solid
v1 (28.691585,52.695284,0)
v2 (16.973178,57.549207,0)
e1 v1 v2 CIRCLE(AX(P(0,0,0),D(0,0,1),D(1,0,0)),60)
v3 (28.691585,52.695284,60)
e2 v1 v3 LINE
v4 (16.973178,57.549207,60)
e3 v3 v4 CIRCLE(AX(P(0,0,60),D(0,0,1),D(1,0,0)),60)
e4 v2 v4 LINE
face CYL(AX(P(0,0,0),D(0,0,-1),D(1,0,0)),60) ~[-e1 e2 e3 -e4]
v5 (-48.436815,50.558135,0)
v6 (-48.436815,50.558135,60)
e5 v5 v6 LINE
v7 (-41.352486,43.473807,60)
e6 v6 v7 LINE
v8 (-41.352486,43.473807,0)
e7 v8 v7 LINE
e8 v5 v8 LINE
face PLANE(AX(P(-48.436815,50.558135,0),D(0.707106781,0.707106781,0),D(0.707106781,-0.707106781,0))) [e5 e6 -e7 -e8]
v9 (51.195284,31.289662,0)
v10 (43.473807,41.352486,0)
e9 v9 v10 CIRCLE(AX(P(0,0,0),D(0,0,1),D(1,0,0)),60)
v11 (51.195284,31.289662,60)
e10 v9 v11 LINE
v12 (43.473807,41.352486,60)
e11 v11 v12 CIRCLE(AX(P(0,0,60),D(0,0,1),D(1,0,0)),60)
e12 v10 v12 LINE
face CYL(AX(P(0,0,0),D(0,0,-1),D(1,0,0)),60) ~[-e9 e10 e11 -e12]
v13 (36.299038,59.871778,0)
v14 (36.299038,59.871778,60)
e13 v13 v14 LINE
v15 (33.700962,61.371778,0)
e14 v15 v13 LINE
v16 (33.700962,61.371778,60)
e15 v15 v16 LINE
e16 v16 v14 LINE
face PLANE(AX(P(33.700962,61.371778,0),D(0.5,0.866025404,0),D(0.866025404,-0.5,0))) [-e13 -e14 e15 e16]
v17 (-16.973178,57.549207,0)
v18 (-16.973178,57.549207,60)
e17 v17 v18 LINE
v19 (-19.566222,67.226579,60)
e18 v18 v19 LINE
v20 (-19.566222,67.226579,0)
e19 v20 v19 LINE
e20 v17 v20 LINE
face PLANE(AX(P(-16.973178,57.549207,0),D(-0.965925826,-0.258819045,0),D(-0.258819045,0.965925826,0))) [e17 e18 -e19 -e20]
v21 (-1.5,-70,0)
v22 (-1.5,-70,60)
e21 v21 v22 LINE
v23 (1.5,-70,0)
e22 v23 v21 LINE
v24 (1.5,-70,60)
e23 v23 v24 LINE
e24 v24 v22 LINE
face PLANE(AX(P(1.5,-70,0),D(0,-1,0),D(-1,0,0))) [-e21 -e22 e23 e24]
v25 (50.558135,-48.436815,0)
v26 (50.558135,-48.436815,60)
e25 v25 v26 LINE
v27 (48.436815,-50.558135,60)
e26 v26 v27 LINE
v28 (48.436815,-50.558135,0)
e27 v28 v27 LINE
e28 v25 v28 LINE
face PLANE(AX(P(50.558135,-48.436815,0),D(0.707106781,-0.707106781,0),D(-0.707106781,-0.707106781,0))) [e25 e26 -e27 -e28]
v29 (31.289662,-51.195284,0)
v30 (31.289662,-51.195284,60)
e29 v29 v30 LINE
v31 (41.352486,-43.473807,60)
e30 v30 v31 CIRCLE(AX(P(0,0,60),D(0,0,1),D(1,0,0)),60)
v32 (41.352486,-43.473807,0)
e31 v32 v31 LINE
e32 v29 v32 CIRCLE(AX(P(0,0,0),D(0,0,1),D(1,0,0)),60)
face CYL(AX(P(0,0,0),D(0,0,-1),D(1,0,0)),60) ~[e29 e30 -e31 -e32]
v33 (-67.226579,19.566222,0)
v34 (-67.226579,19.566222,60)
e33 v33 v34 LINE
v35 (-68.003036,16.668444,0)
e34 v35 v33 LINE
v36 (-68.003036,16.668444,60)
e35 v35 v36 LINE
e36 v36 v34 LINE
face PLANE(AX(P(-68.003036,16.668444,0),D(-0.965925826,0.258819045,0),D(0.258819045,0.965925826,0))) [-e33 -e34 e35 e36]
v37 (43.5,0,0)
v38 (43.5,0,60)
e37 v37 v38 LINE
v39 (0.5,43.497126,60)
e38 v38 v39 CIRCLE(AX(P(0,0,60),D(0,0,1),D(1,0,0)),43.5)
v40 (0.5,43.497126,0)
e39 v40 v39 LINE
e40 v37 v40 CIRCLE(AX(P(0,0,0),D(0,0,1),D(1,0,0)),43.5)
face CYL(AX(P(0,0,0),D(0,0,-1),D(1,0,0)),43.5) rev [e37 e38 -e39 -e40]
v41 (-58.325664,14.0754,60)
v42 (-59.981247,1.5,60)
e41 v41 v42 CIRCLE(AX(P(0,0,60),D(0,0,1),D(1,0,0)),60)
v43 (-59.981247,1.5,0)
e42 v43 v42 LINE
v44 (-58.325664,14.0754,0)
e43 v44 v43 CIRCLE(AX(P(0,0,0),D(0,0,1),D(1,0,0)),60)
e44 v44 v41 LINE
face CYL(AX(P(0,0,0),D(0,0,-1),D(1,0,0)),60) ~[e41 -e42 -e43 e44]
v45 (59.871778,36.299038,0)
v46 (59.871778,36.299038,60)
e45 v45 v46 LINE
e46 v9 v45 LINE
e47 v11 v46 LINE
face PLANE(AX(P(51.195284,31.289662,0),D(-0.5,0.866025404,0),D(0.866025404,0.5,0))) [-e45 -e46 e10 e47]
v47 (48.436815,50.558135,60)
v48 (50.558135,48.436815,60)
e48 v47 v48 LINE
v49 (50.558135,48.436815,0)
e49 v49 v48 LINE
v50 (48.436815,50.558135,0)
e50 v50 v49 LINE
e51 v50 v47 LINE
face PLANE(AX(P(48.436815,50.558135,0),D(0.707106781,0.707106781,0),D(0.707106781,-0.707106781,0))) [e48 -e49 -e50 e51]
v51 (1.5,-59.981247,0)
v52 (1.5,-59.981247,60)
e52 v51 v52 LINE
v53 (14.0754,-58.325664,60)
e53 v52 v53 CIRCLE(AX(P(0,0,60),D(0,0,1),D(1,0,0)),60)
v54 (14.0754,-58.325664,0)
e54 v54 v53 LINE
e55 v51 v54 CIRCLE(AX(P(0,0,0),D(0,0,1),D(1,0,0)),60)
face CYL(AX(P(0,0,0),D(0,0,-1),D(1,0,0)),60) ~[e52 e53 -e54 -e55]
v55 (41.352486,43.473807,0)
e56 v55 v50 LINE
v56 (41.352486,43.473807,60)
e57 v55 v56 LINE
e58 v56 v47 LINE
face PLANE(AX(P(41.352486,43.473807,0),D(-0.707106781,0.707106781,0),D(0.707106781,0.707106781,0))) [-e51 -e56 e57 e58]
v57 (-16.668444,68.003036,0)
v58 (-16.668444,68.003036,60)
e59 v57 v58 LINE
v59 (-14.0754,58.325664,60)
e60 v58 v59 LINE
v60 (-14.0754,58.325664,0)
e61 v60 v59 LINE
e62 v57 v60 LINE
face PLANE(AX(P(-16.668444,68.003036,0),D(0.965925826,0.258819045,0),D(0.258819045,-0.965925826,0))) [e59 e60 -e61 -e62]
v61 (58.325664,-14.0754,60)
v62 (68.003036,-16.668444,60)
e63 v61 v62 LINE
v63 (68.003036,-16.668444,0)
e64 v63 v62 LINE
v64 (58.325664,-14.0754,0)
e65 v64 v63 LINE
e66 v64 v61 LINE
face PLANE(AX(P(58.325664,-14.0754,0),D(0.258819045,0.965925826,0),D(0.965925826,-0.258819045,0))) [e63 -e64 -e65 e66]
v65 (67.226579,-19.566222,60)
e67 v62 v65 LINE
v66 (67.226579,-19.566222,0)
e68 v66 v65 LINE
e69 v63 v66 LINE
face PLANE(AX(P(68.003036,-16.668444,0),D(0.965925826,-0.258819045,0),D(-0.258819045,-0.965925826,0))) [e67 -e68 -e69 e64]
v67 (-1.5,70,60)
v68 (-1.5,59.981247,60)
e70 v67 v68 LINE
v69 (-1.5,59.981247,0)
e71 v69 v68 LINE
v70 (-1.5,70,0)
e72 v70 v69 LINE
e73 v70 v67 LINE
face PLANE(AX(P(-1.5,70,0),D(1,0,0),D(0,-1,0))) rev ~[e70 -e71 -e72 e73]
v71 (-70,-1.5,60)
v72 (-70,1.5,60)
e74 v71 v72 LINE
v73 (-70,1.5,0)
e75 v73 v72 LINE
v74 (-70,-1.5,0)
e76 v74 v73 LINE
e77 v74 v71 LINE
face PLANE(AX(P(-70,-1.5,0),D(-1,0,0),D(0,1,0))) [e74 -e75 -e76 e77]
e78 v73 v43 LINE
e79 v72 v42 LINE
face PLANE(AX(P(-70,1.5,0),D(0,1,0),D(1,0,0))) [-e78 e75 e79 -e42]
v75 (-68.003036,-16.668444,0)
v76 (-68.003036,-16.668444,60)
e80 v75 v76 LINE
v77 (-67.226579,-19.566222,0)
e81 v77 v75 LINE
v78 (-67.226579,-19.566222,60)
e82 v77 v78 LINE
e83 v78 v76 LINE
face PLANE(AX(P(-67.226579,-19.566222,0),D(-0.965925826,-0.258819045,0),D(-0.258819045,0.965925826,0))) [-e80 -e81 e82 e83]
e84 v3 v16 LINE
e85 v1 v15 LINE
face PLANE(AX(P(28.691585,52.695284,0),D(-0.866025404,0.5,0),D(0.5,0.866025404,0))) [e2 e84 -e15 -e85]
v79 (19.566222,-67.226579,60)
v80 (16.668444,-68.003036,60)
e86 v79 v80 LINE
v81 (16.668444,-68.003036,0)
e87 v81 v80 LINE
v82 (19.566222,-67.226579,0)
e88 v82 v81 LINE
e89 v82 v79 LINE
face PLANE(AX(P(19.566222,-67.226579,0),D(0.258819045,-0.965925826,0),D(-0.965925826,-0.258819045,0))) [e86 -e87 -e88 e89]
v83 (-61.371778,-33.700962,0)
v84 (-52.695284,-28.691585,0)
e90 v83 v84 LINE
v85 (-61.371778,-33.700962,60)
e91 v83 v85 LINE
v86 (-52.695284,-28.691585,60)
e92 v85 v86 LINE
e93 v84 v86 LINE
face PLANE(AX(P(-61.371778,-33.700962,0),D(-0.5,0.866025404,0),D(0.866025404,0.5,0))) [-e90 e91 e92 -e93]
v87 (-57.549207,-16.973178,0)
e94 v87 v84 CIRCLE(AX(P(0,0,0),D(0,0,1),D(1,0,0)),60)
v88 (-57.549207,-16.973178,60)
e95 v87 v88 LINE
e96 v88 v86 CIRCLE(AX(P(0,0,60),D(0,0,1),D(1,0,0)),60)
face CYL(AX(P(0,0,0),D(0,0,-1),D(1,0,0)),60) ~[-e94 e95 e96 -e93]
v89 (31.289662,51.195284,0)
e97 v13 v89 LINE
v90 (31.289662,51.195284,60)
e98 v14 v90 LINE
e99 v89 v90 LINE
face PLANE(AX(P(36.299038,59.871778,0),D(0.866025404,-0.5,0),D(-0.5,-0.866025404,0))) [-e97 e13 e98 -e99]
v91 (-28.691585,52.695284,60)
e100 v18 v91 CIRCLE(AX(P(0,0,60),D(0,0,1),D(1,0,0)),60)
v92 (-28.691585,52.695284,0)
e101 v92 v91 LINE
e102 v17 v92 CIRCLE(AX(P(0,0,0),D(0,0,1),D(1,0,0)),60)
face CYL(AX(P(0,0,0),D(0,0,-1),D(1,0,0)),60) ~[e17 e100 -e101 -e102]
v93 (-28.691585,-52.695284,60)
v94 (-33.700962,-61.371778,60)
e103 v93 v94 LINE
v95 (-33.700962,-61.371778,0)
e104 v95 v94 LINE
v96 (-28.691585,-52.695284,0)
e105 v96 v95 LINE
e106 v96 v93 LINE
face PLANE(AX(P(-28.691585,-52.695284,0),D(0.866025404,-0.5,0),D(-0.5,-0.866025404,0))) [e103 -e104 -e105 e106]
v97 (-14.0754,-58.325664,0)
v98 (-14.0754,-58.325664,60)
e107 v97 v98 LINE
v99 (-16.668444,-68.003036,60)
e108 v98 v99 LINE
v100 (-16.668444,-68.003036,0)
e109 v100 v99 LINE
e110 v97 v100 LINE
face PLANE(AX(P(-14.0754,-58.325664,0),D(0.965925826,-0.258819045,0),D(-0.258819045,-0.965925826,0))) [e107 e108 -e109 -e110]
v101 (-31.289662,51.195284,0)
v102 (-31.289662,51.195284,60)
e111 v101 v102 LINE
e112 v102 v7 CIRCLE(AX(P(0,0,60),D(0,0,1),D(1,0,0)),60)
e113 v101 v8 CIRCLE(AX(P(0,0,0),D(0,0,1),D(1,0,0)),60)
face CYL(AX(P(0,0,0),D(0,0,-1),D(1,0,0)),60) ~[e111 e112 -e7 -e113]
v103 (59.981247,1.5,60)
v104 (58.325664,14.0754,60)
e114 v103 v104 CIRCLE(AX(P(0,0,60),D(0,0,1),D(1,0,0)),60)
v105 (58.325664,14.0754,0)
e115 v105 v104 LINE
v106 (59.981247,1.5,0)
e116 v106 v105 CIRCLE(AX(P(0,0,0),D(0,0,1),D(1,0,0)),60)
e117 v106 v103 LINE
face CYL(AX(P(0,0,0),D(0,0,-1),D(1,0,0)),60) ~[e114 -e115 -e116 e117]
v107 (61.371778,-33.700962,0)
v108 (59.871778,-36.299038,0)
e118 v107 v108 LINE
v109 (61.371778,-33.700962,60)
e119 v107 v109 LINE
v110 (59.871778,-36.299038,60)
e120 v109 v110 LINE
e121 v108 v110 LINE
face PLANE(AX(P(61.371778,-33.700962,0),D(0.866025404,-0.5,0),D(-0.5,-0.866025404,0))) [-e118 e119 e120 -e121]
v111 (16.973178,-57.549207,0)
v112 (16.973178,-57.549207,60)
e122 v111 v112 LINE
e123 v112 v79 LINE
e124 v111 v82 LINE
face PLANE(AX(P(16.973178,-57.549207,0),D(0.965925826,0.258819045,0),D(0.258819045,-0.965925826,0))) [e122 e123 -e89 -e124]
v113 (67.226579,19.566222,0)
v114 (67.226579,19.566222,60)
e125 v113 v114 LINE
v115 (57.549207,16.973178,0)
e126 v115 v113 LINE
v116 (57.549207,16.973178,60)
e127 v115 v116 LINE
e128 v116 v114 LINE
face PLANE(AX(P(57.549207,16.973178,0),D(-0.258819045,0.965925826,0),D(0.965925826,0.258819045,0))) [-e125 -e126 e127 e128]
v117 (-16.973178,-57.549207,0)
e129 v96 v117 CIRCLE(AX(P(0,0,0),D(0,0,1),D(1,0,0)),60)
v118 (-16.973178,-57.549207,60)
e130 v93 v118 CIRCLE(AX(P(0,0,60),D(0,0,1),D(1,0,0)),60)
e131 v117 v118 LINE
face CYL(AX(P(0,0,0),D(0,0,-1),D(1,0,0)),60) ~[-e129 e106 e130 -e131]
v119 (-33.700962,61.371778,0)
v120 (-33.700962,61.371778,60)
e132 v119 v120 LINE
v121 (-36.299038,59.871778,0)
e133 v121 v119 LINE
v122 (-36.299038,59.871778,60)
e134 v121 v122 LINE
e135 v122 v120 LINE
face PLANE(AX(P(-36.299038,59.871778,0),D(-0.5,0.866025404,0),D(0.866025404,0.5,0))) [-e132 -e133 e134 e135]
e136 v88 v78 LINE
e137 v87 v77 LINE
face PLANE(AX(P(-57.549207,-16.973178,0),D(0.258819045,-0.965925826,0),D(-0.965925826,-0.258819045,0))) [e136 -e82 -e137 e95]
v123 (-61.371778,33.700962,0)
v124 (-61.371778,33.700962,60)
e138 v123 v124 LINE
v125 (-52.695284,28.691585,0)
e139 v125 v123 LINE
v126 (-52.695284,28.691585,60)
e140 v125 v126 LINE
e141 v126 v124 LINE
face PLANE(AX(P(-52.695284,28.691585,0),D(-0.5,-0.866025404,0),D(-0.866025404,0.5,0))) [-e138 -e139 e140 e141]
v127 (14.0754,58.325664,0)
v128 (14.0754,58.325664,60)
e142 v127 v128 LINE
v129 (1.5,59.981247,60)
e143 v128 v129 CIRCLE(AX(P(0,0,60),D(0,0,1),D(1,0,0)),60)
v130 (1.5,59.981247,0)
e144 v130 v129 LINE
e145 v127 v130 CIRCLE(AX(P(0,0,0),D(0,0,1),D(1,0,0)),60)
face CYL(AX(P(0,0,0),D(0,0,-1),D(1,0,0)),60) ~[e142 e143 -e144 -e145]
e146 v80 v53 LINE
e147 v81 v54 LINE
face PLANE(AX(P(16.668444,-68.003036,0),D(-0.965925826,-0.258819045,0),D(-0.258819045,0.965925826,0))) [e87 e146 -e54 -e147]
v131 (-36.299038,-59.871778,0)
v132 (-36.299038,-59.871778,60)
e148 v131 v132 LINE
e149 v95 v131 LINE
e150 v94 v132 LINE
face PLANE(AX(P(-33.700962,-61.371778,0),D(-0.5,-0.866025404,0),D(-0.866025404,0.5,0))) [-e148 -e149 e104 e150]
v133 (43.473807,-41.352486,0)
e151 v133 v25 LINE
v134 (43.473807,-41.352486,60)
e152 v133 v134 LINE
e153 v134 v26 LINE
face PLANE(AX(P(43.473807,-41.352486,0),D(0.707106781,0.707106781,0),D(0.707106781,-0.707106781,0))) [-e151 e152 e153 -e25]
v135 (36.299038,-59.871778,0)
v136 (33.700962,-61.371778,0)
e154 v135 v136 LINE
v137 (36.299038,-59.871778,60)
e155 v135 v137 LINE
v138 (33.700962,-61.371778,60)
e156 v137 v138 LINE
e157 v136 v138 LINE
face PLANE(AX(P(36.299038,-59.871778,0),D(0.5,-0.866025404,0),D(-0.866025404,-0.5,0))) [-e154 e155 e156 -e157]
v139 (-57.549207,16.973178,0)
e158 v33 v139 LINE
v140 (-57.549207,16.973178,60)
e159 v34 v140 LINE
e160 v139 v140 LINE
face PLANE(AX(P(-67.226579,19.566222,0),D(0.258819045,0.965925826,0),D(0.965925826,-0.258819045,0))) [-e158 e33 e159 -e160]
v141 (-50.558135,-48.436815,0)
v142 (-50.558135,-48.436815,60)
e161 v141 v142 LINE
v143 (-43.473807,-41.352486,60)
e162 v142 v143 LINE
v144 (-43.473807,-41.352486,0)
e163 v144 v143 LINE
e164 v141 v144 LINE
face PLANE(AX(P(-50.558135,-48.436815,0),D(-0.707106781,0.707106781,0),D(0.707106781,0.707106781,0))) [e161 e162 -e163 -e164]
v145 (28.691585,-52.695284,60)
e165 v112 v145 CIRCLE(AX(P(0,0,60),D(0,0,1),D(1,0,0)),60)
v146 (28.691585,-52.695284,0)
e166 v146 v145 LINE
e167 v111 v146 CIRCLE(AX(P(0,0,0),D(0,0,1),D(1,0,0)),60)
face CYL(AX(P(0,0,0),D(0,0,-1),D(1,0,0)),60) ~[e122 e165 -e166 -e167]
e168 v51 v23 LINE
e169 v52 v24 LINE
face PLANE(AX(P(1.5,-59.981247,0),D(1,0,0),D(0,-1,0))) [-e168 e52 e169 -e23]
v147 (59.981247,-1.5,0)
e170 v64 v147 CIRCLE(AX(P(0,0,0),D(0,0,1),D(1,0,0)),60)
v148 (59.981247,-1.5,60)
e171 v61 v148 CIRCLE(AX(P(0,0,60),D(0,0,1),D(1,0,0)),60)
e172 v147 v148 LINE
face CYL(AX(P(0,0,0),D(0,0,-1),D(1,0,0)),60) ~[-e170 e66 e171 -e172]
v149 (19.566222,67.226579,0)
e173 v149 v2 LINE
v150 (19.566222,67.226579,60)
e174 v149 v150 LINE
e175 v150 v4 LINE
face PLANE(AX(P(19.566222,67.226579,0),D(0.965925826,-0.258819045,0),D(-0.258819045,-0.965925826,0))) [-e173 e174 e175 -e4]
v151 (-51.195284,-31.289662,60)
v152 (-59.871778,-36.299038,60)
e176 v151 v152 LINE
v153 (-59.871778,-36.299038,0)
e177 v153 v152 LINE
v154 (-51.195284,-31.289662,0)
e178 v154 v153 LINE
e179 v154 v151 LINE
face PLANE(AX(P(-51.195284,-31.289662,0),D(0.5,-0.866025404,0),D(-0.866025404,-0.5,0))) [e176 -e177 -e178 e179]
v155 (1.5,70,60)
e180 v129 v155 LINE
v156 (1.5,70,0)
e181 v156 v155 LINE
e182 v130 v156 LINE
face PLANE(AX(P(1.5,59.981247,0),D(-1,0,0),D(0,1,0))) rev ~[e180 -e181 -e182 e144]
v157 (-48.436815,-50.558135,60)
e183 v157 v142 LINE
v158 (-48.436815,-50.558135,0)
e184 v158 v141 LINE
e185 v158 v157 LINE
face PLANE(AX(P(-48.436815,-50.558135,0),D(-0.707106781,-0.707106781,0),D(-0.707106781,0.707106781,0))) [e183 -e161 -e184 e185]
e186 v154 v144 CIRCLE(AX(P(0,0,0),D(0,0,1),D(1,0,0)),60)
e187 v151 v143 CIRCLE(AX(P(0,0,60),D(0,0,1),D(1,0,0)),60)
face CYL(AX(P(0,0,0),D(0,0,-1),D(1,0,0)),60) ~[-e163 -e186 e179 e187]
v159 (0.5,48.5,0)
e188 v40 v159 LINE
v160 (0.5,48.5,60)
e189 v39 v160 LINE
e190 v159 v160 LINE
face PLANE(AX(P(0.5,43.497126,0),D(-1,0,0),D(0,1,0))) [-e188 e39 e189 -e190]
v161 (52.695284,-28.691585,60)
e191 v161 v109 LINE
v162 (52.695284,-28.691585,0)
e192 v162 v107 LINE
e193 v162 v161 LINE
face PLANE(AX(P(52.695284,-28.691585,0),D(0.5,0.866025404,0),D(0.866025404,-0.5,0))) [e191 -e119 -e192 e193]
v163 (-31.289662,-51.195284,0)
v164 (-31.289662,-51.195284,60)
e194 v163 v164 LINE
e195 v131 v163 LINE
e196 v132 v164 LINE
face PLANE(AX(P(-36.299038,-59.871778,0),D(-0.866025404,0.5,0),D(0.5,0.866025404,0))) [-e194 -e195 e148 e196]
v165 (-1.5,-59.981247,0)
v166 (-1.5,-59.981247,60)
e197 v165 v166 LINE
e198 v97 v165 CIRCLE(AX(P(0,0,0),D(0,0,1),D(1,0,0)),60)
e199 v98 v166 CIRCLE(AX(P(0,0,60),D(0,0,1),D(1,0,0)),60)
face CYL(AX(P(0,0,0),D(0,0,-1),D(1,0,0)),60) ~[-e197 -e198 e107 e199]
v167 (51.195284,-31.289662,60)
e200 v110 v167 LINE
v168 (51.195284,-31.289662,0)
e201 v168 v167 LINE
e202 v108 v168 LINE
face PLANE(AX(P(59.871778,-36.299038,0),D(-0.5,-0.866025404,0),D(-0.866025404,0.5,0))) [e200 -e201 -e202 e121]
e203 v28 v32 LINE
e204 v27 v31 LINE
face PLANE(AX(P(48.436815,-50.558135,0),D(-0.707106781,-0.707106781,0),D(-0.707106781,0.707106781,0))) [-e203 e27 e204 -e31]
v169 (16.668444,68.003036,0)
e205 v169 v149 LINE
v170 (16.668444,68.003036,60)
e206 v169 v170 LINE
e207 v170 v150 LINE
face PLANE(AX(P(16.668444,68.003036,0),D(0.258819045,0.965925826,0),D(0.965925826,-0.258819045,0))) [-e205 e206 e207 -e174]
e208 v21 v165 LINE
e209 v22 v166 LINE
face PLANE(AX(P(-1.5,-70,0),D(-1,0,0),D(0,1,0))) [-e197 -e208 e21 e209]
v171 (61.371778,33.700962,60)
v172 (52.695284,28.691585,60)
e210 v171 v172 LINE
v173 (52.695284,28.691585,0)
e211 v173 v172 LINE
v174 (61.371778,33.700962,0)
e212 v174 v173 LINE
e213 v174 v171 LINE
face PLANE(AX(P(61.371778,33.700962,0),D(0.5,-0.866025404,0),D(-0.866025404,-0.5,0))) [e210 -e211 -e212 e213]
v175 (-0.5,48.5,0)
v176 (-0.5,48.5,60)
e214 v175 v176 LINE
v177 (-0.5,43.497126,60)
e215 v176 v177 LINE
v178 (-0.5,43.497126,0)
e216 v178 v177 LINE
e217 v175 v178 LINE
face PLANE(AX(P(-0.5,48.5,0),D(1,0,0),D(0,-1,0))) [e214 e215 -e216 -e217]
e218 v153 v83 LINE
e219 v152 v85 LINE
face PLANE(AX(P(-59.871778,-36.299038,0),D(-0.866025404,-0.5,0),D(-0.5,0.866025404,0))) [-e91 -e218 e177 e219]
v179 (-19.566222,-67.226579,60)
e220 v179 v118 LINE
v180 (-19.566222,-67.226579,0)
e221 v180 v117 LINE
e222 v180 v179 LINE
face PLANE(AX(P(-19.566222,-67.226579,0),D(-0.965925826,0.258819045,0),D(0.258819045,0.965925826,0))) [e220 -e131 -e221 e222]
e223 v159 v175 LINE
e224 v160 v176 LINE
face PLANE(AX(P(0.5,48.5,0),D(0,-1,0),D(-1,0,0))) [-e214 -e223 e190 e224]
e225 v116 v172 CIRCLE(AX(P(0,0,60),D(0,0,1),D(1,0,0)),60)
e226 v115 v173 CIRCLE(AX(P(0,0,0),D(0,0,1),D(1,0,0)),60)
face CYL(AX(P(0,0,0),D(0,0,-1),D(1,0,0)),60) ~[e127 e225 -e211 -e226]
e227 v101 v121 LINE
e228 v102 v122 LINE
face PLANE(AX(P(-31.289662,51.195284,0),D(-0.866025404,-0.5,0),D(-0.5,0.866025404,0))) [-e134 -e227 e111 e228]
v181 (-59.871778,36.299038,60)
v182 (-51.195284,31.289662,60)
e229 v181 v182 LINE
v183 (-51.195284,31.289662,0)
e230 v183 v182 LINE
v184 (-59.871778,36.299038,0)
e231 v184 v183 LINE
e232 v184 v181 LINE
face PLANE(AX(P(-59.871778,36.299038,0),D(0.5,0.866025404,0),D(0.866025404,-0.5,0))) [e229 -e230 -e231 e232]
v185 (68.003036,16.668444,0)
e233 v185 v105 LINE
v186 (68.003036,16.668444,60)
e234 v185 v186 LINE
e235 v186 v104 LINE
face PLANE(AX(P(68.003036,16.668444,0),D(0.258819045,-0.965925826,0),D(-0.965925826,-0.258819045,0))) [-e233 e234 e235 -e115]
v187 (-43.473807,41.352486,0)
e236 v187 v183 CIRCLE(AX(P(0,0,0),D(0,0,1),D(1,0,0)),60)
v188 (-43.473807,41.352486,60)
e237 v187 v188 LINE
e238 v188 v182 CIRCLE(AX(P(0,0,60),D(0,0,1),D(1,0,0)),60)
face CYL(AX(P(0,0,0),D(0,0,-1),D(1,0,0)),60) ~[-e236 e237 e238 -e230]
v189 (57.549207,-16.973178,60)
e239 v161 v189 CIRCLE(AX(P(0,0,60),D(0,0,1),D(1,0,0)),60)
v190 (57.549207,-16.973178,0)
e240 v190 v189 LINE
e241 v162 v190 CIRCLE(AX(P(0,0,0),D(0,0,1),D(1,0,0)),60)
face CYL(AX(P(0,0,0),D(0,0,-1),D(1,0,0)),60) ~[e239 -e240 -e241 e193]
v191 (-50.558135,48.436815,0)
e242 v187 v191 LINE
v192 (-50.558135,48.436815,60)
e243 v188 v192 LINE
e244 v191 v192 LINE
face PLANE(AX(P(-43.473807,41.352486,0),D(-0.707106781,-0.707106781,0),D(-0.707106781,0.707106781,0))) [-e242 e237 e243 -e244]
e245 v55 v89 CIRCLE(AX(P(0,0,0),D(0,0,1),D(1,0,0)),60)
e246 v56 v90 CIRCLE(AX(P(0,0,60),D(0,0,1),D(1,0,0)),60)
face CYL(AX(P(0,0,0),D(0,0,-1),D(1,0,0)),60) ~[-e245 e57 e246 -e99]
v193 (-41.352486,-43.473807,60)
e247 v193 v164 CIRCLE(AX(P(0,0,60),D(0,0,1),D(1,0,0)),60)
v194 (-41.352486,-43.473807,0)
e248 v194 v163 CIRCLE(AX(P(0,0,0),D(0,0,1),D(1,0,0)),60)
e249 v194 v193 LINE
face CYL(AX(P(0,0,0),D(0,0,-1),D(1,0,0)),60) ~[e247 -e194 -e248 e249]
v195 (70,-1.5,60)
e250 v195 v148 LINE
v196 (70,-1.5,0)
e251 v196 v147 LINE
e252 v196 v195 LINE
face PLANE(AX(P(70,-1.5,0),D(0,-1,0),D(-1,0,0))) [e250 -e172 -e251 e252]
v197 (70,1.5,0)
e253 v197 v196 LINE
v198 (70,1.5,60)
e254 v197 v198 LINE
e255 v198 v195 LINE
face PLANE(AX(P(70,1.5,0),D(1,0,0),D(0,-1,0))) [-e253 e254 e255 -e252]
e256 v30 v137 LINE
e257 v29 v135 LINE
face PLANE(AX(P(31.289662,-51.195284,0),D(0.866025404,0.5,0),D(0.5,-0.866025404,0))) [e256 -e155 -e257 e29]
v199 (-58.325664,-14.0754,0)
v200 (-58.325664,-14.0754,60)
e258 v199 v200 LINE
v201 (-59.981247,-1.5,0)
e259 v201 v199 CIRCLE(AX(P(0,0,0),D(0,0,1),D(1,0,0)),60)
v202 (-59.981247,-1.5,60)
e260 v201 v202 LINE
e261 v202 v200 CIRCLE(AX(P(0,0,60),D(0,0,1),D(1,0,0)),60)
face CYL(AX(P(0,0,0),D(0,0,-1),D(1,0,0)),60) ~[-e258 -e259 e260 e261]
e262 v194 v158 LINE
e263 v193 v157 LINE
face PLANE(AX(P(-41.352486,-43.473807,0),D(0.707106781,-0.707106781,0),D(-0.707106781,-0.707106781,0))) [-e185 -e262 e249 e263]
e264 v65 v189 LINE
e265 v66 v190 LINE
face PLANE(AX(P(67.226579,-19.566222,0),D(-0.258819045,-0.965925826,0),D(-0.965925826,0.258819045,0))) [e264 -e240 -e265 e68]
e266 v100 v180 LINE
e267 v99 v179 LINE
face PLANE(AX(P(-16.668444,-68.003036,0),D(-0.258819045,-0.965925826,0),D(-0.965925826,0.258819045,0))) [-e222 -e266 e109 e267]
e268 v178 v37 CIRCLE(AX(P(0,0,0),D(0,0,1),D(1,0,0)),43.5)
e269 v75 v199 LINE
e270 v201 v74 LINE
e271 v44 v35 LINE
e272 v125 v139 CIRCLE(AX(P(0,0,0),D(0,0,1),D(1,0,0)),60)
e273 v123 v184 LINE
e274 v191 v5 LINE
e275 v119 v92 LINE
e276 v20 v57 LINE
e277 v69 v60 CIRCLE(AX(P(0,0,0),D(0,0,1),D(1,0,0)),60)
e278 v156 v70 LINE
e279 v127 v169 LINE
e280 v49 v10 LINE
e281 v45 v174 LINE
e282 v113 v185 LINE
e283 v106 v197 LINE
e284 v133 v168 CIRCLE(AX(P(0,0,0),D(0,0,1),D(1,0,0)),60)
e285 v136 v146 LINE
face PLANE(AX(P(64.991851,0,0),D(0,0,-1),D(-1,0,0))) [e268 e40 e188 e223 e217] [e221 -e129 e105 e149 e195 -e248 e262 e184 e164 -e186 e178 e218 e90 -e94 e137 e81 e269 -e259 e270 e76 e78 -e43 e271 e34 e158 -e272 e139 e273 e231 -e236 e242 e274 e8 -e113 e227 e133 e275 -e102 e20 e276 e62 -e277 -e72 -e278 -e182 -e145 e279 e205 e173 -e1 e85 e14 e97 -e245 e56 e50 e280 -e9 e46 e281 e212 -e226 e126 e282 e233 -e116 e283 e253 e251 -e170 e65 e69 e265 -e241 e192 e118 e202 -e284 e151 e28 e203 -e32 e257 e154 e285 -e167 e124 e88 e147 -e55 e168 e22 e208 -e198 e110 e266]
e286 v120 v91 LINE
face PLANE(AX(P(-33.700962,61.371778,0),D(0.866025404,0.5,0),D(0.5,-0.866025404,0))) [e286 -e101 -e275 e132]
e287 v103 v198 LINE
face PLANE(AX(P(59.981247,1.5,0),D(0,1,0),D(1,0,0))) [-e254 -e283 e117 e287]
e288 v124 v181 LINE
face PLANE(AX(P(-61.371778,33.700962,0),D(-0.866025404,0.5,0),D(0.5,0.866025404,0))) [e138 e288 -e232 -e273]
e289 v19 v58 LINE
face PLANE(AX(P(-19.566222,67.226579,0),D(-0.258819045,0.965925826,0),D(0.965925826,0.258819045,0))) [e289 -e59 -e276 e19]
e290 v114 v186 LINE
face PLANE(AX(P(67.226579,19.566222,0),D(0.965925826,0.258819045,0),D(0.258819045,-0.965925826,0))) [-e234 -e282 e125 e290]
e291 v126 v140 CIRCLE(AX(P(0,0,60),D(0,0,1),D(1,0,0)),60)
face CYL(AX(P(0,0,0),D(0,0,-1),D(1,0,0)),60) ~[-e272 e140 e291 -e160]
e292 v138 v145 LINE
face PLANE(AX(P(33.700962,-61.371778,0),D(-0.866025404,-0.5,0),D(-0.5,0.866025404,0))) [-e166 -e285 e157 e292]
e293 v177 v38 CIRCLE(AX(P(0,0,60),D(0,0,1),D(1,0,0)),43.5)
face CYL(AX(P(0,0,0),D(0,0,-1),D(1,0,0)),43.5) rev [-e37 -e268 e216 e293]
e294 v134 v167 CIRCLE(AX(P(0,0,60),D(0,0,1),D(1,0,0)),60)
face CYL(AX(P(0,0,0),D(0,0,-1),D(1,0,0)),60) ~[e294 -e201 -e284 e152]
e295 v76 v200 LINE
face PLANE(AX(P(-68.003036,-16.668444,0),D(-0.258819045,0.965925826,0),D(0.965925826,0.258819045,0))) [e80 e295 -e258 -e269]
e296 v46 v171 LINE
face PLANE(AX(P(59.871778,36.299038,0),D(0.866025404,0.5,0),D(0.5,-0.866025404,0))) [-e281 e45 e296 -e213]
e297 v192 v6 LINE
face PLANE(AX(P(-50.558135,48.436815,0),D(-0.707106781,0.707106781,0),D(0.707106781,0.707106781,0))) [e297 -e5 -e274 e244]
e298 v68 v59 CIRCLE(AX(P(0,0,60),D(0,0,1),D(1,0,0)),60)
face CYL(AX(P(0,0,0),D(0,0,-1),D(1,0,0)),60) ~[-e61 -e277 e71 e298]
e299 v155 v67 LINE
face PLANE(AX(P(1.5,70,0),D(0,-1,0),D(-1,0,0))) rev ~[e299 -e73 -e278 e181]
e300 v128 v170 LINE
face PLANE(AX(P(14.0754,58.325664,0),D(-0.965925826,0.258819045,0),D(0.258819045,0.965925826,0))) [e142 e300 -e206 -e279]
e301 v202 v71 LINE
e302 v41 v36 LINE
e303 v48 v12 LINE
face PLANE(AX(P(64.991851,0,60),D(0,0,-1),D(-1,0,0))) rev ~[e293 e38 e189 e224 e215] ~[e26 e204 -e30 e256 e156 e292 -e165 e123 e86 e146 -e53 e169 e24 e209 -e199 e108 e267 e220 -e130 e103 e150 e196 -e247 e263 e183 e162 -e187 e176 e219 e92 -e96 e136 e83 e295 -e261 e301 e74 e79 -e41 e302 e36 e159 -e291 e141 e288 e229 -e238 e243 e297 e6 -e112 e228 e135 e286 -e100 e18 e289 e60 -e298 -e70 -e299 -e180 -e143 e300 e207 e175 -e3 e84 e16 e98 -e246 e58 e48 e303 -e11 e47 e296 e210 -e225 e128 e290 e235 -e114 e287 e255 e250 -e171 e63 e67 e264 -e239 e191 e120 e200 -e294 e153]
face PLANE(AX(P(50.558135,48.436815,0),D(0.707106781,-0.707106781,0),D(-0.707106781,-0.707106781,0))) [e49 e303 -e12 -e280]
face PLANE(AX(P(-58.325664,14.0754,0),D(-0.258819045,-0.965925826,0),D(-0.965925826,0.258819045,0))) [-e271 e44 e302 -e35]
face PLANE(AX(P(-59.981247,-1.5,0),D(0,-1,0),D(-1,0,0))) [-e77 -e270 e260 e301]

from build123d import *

# Parameters (mm, degrees)
SKETCH1_R           = 60
SKETCH1_R_2         = 43.5
EXTRUSION1_DEPTH    = 60
EXTRUSION3_START    = -60
EXTRUSION3_DEPTH    = 60
BOSS_EXTRUDE2_START = -60
BOSS_EXTRUDE2_DEPTH = 60


with BuildPart() as part:
    # Sketch1 → Extrusion1 (new body)
    with BuildSketch(Plane.XY):
        Circle(SKETCH1_R)
        Circle(SKETCH1_R_2, mode=Mode.SUBTRACT)
    extrude(amount=EXTRUSION1_DEPTH)

    # Sketch3 → Extrusion3 (cut)
    with BuildSketch(Plane.XY.offset(60).offset(EXTRUSION3_START)):
        with BuildLine():
            Line((-0.5, 48.5), (-0.5, 43.497126342))
            ThreePointArc((-0.5, 43.497126342), (0, 43.5), (0.5, 43.497126342))
            Line((0.5, 43.497126342), (0.5, 48.5))
            Line((0.5, 48.5), (-0.5, 48.5))
        make_face()
    extrude(amount=EXTRUSION3_DEPTH, mode=Mode.SUBTRACT)

    # Sketch5 → Boss-Extrude2 (add)
    with BuildSketch(Plane.XY.offset(60).offset(BOSS_EXTRUDE2_START)):
        with BuildLine():
            Line((14.075400351, 58.325664205), (16.668444418, 68.003036408))
            Line((16.668444418, 68.003036408), (19.566221897, 67.226579273))
            Line((19.566221897, 67.226579273), (16.97317783, 57.54920707))
            ThreePointArc((16.97317783, 57.54920707), (15.529142706, 57.955549577), (14.075400351, 58.325664205))
        make_face()
        with BuildLine():
            Line((1.5, 59.981247069), (1.5, 70))
            Line((1.5, 70), (-1.5, 70))
            Line((-1.5, 70), (-1.5, 59.981247069))
            ThreePointArc((-1.5, 59.981247069), (0, 60), (1.5, 59.981247069))
        make_face()
        with BuildLine():
            Line((28.691585429, 52.695283713), (33.700961894, 61.371778265))
            Line((33.700961894, 61.371778265), (36.299038106, 59.871778265))
            Line((36.299038106, 59.871778265), (31.28966164, 51.195283713))
            ThreePointArc((31.28966164, 51.195283713), (30, 51.961524227), (28.691585429, 52.695283713))
        make_face()
        with BuildLine():
            Line((41.352486375, 43.473806719), (48.436814511, 50.558134855))
            Line((48.436814511, 50.558134855), (50.558134855, 48.436814511))
            Line((50.558134855, 48.436814511), (43.473806719, 41.352486375))
            ThreePointArc((43.473806719, 41.352486375), (42.426406871, 42.426406871), (41.352486375, 43.473806719))
        make_face()
        with BuildLine():
            Line((51.195283713, 31.28966164), (59.871778265, 36.299038106))
            Line((59.871778265, 36.299038106), (61.371778265, 33.700961894))
            Line((61.371778265, 33.700961894), (52.695283713, 28.691585429))
            ThreePointArc((52.695283713, 28.691585429), (51.961524227, 30), (51.195283713, 31.28966164))
        make_face()
        with BuildLine():
            Line((57.54920707, 16.97317783), (67.226579273, 19.566221897))
            Line((67.226579273, 19.566221897), (68.003036408, 16.668444418))
            Line((68.003036408, 16.668444418), (58.325664205, 14.075400351))
            ThreePointArc((58.325664205, 14.075400351), (57.955549577, 15.529142706), (57.54920707, 16.97317783))
        make_face()
        with BuildLine():
            Line((59.981247069, 1.5), (70, 1.5))
            Line((70, 1.5), (70, -1.5))
            Line((70, -1.5), (59.981247069, -1.5))
            ThreePointArc((59.981247069, -1.5), (60, 0), (59.981247069, 1.5))
        make_face()
        with BuildLine():
            Line((58.325664205, -14.075400351), (68.003036408, -16.668444418))
            Line((68.003036408, -16.668444418), (67.226579273, -19.566221897))
            Line((67.226579273, -19.566221897), (57.54920707, -16.97317783))
            ThreePointArc((57.54920707, -16.97317783), (57.955549577, -15.529142706), (58.325664205, -14.075400351))
        make_face()
        with BuildLine():
            Line((52.695283713, -28.691585429), (61.371778265, -33.700961894))
            Line((61.371778265, -33.700961894), (59.871778265, -36.299038106))
            Line((59.871778265, -36.299038106), (51.195283713, -31.28966164))
            ThreePointArc((51.195283713, -31.28966164), (51.961524227, -30), (52.695283713, -28.691585429))
        make_face()
        with BuildLine():
            Line((43.473806719, -41.352486375), (50.558134855, -48.436814511))
            Line((50.558134855, -48.436814511), (48.436814511, -50.558134855))
            Line((48.436814511, -50.558134855), (41.352486375, -43.473806719))
            ThreePointArc((41.352486375, -43.473806719), (42.426406871, -42.426406871), (43.473806719, -41.352486375))
        make_face()
        with BuildLine():
            Line((31.28966164, -51.195283713), (36.299038106, -59.871778265))
            Line((36.299038106, -59.871778265), (33.700961894, -61.371778265))
            Line((33.700961894, -61.371778265), (28.691585429, -52.695283713))
            ThreePointArc((28.691585429, -52.695283713), (30, -51.961524227), (31.28966164, -51.195283713))
        make_face()
        with BuildLine():
            Line((16.97317783, -57.54920707), (19.566221897, -67.226579273))
            Line((19.566221897, -67.226579273), (16.668444418, -68.003036408))
            Line((16.668444418, -68.003036408), (14.075400351, -58.325664205))
            ThreePointArc((14.075400351, -58.325664205), (15.529142706, -57.955549577), (16.97317783, -57.54920707))
        make_face()
        with BuildLine():
            Line((1.5, -59.981247069), (1.5, -70))
            Line((1.5, -70), (-1.5, -70))
            Line((-1.5, -70), (-1.5, -59.981247069))
            ThreePointArc((-1.5, -59.981247069), (0, -60), (1.5, -59.981247069))
        make_face()
        with BuildLine():
            Line((-14.075400351, -58.325664205), (-16.668444418, -68.003036408))
            Line((-16.668444418, -68.003036408), (-19.566221897, -67.226579273))
            Line((-19.566221897, -67.226579273), (-16.97317783, -57.54920707))
            ThreePointArc((-16.97317783, -57.54920707), (-15.529142706, -57.955549577), (-14.075400351, -58.325664205))
        make_face()
        with BuildLine():
            Line((-28.691585429, -52.695283713), (-33.700961894, -61.371778265))
            Line((-33.700961894, -61.371778265), (-36.299038106, -59.871778265))
            Line((-36.299038106, -59.871778265), (-31.28966164, -51.195283713))
            ThreePointArc((-31.28966164, -51.195283713), (-30, -51.961524227), (-28.691585429, -52.695283713))
        make_face()
        with BuildLine():
            Line((-41.352486375, -43.473806719), (-48.436814511, -50.558134855))
            Line((-48.436814511, -50.558134855), (-50.558134855, -48.436814511))
            Line((-50.558134855, -48.436814511), (-43.473806719, -41.352486375))
            ThreePointArc((-43.473806719, -41.352486375), (-42.426406871, -42.426406871), (-41.352486375, -43.473806719))
        make_face()
        with BuildLine():
            Line((-51.195283713, -31.28966164), (-59.871778265, -36.299038106))
            Line((-59.871778265, -36.299038106), (-61.371778265, -33.700961894))
            Line((-61.371778265, -33.700961894), (-52.695283713, -28.691585429))
            ThreePointArc((-52.695283713, -28.691585429), (-51.961524227, -30), (-51.195283713, -31.28966164))
        make_face()
        with BuildLine():
            Line((-57.54920707, -16.97317783), (-67.226579273, -19.566221897))
            Line((-67.226579273, -19.566221897), (-68.003036408, -16.668444418))
            Line((-68.003036408, -16.668444418), (-58.325664205, -14.075400351))
            ThreePointArc((-58.325664205, -14.075400351), (-57.955549577, -15.529142706), (-57.54920707, -16.97317783))
        make_face()
        with BuildLine():
            Line((-59.981247069, -1.5), (-70, -1.5))
            Line((-70, -1.5), (-70, 1.5))
            Line((-70, 1.5), (-59.981247069, 1.5))
            ThreePointArc((-59.981247069, 1.5), (-60, 0), (-59.981247069, -1.5))
        make_face()
        with BuildLine():
            Line((-58.325664205, 14.075400351), (-68.003036408, 16.668444418))
            Line((-68.003036408, 16.668444418), (-67.226579273, 19.566221897))
            Line((-67.226579273, 19.566221897), (-57.54920707, 16.97317783))
            ThreePointArc((-57.54920707, 16.97317783), (-57.955549577, 15.529142706), (-58.325664205, 14.075400351))
        make_face()
        with BuildLine():
            Line((-52.695283713, 28.691585429), (-61.371778265, 33.700961894))
            Line((-61.371778265, 33.700961894), (-59.871778265, 36.299038106))
            Line((-59.871778265, 36.299038106), (-51.195283713, 31.28966164))
            ThreePointArc((-51.195283713, 31.28966164), (-51.961524227, 30), (-52.695283713, 28.691585429))
        make_face()
        with BuildLine():
            Line((-43.473806719, 41.352486375), (-50.558134855, 48.436814511))
            Line((-50.558134855, 48.436814511), (-48.436814511, 50.558134855))
            Line((-48.436814511, 50.558134855), (-41.352486375, 43.473806719))
            ThreePointArc((-41.352486375, 43.473806719), (-42.426406871, 42.426406871), (-43.473806719, 41.352486375))
        make_face()
        with BuildLine():
            Line((-31.28966164, 51.195283713), (-36.299038106, 59.871778265))
            Line((-36.299038106, 59.871778265), (-33.700961894, 61.371778265))
            Line((-33.700961894, 61.371778265), (-28.691585429, 52.695283713))
            ThreePointArc((-28.691585429, 52.695283713), (-30, 51.961524227), (-31.28966164, 51.195283713))
        make_face()
        with BuildLine():
            Line((-16.97317783, 57.54920707), (-19.566221897, 67.226579273))
            Line((-19.566221897, 67.226579273), (-16.668444418, 68.003036408))
            Line((-16.668444418, 68.003036408), (-14.075400351, 58.325664205))
            ThreePointArc((-14.075400351, 58.325664205), (-15.529142706, 57.955549577), (-16.97317783, 57.54920707))
        make_face()
    extrude(amount=BOSS_EXTRUDE2_DEPTH)


solid = part.part
